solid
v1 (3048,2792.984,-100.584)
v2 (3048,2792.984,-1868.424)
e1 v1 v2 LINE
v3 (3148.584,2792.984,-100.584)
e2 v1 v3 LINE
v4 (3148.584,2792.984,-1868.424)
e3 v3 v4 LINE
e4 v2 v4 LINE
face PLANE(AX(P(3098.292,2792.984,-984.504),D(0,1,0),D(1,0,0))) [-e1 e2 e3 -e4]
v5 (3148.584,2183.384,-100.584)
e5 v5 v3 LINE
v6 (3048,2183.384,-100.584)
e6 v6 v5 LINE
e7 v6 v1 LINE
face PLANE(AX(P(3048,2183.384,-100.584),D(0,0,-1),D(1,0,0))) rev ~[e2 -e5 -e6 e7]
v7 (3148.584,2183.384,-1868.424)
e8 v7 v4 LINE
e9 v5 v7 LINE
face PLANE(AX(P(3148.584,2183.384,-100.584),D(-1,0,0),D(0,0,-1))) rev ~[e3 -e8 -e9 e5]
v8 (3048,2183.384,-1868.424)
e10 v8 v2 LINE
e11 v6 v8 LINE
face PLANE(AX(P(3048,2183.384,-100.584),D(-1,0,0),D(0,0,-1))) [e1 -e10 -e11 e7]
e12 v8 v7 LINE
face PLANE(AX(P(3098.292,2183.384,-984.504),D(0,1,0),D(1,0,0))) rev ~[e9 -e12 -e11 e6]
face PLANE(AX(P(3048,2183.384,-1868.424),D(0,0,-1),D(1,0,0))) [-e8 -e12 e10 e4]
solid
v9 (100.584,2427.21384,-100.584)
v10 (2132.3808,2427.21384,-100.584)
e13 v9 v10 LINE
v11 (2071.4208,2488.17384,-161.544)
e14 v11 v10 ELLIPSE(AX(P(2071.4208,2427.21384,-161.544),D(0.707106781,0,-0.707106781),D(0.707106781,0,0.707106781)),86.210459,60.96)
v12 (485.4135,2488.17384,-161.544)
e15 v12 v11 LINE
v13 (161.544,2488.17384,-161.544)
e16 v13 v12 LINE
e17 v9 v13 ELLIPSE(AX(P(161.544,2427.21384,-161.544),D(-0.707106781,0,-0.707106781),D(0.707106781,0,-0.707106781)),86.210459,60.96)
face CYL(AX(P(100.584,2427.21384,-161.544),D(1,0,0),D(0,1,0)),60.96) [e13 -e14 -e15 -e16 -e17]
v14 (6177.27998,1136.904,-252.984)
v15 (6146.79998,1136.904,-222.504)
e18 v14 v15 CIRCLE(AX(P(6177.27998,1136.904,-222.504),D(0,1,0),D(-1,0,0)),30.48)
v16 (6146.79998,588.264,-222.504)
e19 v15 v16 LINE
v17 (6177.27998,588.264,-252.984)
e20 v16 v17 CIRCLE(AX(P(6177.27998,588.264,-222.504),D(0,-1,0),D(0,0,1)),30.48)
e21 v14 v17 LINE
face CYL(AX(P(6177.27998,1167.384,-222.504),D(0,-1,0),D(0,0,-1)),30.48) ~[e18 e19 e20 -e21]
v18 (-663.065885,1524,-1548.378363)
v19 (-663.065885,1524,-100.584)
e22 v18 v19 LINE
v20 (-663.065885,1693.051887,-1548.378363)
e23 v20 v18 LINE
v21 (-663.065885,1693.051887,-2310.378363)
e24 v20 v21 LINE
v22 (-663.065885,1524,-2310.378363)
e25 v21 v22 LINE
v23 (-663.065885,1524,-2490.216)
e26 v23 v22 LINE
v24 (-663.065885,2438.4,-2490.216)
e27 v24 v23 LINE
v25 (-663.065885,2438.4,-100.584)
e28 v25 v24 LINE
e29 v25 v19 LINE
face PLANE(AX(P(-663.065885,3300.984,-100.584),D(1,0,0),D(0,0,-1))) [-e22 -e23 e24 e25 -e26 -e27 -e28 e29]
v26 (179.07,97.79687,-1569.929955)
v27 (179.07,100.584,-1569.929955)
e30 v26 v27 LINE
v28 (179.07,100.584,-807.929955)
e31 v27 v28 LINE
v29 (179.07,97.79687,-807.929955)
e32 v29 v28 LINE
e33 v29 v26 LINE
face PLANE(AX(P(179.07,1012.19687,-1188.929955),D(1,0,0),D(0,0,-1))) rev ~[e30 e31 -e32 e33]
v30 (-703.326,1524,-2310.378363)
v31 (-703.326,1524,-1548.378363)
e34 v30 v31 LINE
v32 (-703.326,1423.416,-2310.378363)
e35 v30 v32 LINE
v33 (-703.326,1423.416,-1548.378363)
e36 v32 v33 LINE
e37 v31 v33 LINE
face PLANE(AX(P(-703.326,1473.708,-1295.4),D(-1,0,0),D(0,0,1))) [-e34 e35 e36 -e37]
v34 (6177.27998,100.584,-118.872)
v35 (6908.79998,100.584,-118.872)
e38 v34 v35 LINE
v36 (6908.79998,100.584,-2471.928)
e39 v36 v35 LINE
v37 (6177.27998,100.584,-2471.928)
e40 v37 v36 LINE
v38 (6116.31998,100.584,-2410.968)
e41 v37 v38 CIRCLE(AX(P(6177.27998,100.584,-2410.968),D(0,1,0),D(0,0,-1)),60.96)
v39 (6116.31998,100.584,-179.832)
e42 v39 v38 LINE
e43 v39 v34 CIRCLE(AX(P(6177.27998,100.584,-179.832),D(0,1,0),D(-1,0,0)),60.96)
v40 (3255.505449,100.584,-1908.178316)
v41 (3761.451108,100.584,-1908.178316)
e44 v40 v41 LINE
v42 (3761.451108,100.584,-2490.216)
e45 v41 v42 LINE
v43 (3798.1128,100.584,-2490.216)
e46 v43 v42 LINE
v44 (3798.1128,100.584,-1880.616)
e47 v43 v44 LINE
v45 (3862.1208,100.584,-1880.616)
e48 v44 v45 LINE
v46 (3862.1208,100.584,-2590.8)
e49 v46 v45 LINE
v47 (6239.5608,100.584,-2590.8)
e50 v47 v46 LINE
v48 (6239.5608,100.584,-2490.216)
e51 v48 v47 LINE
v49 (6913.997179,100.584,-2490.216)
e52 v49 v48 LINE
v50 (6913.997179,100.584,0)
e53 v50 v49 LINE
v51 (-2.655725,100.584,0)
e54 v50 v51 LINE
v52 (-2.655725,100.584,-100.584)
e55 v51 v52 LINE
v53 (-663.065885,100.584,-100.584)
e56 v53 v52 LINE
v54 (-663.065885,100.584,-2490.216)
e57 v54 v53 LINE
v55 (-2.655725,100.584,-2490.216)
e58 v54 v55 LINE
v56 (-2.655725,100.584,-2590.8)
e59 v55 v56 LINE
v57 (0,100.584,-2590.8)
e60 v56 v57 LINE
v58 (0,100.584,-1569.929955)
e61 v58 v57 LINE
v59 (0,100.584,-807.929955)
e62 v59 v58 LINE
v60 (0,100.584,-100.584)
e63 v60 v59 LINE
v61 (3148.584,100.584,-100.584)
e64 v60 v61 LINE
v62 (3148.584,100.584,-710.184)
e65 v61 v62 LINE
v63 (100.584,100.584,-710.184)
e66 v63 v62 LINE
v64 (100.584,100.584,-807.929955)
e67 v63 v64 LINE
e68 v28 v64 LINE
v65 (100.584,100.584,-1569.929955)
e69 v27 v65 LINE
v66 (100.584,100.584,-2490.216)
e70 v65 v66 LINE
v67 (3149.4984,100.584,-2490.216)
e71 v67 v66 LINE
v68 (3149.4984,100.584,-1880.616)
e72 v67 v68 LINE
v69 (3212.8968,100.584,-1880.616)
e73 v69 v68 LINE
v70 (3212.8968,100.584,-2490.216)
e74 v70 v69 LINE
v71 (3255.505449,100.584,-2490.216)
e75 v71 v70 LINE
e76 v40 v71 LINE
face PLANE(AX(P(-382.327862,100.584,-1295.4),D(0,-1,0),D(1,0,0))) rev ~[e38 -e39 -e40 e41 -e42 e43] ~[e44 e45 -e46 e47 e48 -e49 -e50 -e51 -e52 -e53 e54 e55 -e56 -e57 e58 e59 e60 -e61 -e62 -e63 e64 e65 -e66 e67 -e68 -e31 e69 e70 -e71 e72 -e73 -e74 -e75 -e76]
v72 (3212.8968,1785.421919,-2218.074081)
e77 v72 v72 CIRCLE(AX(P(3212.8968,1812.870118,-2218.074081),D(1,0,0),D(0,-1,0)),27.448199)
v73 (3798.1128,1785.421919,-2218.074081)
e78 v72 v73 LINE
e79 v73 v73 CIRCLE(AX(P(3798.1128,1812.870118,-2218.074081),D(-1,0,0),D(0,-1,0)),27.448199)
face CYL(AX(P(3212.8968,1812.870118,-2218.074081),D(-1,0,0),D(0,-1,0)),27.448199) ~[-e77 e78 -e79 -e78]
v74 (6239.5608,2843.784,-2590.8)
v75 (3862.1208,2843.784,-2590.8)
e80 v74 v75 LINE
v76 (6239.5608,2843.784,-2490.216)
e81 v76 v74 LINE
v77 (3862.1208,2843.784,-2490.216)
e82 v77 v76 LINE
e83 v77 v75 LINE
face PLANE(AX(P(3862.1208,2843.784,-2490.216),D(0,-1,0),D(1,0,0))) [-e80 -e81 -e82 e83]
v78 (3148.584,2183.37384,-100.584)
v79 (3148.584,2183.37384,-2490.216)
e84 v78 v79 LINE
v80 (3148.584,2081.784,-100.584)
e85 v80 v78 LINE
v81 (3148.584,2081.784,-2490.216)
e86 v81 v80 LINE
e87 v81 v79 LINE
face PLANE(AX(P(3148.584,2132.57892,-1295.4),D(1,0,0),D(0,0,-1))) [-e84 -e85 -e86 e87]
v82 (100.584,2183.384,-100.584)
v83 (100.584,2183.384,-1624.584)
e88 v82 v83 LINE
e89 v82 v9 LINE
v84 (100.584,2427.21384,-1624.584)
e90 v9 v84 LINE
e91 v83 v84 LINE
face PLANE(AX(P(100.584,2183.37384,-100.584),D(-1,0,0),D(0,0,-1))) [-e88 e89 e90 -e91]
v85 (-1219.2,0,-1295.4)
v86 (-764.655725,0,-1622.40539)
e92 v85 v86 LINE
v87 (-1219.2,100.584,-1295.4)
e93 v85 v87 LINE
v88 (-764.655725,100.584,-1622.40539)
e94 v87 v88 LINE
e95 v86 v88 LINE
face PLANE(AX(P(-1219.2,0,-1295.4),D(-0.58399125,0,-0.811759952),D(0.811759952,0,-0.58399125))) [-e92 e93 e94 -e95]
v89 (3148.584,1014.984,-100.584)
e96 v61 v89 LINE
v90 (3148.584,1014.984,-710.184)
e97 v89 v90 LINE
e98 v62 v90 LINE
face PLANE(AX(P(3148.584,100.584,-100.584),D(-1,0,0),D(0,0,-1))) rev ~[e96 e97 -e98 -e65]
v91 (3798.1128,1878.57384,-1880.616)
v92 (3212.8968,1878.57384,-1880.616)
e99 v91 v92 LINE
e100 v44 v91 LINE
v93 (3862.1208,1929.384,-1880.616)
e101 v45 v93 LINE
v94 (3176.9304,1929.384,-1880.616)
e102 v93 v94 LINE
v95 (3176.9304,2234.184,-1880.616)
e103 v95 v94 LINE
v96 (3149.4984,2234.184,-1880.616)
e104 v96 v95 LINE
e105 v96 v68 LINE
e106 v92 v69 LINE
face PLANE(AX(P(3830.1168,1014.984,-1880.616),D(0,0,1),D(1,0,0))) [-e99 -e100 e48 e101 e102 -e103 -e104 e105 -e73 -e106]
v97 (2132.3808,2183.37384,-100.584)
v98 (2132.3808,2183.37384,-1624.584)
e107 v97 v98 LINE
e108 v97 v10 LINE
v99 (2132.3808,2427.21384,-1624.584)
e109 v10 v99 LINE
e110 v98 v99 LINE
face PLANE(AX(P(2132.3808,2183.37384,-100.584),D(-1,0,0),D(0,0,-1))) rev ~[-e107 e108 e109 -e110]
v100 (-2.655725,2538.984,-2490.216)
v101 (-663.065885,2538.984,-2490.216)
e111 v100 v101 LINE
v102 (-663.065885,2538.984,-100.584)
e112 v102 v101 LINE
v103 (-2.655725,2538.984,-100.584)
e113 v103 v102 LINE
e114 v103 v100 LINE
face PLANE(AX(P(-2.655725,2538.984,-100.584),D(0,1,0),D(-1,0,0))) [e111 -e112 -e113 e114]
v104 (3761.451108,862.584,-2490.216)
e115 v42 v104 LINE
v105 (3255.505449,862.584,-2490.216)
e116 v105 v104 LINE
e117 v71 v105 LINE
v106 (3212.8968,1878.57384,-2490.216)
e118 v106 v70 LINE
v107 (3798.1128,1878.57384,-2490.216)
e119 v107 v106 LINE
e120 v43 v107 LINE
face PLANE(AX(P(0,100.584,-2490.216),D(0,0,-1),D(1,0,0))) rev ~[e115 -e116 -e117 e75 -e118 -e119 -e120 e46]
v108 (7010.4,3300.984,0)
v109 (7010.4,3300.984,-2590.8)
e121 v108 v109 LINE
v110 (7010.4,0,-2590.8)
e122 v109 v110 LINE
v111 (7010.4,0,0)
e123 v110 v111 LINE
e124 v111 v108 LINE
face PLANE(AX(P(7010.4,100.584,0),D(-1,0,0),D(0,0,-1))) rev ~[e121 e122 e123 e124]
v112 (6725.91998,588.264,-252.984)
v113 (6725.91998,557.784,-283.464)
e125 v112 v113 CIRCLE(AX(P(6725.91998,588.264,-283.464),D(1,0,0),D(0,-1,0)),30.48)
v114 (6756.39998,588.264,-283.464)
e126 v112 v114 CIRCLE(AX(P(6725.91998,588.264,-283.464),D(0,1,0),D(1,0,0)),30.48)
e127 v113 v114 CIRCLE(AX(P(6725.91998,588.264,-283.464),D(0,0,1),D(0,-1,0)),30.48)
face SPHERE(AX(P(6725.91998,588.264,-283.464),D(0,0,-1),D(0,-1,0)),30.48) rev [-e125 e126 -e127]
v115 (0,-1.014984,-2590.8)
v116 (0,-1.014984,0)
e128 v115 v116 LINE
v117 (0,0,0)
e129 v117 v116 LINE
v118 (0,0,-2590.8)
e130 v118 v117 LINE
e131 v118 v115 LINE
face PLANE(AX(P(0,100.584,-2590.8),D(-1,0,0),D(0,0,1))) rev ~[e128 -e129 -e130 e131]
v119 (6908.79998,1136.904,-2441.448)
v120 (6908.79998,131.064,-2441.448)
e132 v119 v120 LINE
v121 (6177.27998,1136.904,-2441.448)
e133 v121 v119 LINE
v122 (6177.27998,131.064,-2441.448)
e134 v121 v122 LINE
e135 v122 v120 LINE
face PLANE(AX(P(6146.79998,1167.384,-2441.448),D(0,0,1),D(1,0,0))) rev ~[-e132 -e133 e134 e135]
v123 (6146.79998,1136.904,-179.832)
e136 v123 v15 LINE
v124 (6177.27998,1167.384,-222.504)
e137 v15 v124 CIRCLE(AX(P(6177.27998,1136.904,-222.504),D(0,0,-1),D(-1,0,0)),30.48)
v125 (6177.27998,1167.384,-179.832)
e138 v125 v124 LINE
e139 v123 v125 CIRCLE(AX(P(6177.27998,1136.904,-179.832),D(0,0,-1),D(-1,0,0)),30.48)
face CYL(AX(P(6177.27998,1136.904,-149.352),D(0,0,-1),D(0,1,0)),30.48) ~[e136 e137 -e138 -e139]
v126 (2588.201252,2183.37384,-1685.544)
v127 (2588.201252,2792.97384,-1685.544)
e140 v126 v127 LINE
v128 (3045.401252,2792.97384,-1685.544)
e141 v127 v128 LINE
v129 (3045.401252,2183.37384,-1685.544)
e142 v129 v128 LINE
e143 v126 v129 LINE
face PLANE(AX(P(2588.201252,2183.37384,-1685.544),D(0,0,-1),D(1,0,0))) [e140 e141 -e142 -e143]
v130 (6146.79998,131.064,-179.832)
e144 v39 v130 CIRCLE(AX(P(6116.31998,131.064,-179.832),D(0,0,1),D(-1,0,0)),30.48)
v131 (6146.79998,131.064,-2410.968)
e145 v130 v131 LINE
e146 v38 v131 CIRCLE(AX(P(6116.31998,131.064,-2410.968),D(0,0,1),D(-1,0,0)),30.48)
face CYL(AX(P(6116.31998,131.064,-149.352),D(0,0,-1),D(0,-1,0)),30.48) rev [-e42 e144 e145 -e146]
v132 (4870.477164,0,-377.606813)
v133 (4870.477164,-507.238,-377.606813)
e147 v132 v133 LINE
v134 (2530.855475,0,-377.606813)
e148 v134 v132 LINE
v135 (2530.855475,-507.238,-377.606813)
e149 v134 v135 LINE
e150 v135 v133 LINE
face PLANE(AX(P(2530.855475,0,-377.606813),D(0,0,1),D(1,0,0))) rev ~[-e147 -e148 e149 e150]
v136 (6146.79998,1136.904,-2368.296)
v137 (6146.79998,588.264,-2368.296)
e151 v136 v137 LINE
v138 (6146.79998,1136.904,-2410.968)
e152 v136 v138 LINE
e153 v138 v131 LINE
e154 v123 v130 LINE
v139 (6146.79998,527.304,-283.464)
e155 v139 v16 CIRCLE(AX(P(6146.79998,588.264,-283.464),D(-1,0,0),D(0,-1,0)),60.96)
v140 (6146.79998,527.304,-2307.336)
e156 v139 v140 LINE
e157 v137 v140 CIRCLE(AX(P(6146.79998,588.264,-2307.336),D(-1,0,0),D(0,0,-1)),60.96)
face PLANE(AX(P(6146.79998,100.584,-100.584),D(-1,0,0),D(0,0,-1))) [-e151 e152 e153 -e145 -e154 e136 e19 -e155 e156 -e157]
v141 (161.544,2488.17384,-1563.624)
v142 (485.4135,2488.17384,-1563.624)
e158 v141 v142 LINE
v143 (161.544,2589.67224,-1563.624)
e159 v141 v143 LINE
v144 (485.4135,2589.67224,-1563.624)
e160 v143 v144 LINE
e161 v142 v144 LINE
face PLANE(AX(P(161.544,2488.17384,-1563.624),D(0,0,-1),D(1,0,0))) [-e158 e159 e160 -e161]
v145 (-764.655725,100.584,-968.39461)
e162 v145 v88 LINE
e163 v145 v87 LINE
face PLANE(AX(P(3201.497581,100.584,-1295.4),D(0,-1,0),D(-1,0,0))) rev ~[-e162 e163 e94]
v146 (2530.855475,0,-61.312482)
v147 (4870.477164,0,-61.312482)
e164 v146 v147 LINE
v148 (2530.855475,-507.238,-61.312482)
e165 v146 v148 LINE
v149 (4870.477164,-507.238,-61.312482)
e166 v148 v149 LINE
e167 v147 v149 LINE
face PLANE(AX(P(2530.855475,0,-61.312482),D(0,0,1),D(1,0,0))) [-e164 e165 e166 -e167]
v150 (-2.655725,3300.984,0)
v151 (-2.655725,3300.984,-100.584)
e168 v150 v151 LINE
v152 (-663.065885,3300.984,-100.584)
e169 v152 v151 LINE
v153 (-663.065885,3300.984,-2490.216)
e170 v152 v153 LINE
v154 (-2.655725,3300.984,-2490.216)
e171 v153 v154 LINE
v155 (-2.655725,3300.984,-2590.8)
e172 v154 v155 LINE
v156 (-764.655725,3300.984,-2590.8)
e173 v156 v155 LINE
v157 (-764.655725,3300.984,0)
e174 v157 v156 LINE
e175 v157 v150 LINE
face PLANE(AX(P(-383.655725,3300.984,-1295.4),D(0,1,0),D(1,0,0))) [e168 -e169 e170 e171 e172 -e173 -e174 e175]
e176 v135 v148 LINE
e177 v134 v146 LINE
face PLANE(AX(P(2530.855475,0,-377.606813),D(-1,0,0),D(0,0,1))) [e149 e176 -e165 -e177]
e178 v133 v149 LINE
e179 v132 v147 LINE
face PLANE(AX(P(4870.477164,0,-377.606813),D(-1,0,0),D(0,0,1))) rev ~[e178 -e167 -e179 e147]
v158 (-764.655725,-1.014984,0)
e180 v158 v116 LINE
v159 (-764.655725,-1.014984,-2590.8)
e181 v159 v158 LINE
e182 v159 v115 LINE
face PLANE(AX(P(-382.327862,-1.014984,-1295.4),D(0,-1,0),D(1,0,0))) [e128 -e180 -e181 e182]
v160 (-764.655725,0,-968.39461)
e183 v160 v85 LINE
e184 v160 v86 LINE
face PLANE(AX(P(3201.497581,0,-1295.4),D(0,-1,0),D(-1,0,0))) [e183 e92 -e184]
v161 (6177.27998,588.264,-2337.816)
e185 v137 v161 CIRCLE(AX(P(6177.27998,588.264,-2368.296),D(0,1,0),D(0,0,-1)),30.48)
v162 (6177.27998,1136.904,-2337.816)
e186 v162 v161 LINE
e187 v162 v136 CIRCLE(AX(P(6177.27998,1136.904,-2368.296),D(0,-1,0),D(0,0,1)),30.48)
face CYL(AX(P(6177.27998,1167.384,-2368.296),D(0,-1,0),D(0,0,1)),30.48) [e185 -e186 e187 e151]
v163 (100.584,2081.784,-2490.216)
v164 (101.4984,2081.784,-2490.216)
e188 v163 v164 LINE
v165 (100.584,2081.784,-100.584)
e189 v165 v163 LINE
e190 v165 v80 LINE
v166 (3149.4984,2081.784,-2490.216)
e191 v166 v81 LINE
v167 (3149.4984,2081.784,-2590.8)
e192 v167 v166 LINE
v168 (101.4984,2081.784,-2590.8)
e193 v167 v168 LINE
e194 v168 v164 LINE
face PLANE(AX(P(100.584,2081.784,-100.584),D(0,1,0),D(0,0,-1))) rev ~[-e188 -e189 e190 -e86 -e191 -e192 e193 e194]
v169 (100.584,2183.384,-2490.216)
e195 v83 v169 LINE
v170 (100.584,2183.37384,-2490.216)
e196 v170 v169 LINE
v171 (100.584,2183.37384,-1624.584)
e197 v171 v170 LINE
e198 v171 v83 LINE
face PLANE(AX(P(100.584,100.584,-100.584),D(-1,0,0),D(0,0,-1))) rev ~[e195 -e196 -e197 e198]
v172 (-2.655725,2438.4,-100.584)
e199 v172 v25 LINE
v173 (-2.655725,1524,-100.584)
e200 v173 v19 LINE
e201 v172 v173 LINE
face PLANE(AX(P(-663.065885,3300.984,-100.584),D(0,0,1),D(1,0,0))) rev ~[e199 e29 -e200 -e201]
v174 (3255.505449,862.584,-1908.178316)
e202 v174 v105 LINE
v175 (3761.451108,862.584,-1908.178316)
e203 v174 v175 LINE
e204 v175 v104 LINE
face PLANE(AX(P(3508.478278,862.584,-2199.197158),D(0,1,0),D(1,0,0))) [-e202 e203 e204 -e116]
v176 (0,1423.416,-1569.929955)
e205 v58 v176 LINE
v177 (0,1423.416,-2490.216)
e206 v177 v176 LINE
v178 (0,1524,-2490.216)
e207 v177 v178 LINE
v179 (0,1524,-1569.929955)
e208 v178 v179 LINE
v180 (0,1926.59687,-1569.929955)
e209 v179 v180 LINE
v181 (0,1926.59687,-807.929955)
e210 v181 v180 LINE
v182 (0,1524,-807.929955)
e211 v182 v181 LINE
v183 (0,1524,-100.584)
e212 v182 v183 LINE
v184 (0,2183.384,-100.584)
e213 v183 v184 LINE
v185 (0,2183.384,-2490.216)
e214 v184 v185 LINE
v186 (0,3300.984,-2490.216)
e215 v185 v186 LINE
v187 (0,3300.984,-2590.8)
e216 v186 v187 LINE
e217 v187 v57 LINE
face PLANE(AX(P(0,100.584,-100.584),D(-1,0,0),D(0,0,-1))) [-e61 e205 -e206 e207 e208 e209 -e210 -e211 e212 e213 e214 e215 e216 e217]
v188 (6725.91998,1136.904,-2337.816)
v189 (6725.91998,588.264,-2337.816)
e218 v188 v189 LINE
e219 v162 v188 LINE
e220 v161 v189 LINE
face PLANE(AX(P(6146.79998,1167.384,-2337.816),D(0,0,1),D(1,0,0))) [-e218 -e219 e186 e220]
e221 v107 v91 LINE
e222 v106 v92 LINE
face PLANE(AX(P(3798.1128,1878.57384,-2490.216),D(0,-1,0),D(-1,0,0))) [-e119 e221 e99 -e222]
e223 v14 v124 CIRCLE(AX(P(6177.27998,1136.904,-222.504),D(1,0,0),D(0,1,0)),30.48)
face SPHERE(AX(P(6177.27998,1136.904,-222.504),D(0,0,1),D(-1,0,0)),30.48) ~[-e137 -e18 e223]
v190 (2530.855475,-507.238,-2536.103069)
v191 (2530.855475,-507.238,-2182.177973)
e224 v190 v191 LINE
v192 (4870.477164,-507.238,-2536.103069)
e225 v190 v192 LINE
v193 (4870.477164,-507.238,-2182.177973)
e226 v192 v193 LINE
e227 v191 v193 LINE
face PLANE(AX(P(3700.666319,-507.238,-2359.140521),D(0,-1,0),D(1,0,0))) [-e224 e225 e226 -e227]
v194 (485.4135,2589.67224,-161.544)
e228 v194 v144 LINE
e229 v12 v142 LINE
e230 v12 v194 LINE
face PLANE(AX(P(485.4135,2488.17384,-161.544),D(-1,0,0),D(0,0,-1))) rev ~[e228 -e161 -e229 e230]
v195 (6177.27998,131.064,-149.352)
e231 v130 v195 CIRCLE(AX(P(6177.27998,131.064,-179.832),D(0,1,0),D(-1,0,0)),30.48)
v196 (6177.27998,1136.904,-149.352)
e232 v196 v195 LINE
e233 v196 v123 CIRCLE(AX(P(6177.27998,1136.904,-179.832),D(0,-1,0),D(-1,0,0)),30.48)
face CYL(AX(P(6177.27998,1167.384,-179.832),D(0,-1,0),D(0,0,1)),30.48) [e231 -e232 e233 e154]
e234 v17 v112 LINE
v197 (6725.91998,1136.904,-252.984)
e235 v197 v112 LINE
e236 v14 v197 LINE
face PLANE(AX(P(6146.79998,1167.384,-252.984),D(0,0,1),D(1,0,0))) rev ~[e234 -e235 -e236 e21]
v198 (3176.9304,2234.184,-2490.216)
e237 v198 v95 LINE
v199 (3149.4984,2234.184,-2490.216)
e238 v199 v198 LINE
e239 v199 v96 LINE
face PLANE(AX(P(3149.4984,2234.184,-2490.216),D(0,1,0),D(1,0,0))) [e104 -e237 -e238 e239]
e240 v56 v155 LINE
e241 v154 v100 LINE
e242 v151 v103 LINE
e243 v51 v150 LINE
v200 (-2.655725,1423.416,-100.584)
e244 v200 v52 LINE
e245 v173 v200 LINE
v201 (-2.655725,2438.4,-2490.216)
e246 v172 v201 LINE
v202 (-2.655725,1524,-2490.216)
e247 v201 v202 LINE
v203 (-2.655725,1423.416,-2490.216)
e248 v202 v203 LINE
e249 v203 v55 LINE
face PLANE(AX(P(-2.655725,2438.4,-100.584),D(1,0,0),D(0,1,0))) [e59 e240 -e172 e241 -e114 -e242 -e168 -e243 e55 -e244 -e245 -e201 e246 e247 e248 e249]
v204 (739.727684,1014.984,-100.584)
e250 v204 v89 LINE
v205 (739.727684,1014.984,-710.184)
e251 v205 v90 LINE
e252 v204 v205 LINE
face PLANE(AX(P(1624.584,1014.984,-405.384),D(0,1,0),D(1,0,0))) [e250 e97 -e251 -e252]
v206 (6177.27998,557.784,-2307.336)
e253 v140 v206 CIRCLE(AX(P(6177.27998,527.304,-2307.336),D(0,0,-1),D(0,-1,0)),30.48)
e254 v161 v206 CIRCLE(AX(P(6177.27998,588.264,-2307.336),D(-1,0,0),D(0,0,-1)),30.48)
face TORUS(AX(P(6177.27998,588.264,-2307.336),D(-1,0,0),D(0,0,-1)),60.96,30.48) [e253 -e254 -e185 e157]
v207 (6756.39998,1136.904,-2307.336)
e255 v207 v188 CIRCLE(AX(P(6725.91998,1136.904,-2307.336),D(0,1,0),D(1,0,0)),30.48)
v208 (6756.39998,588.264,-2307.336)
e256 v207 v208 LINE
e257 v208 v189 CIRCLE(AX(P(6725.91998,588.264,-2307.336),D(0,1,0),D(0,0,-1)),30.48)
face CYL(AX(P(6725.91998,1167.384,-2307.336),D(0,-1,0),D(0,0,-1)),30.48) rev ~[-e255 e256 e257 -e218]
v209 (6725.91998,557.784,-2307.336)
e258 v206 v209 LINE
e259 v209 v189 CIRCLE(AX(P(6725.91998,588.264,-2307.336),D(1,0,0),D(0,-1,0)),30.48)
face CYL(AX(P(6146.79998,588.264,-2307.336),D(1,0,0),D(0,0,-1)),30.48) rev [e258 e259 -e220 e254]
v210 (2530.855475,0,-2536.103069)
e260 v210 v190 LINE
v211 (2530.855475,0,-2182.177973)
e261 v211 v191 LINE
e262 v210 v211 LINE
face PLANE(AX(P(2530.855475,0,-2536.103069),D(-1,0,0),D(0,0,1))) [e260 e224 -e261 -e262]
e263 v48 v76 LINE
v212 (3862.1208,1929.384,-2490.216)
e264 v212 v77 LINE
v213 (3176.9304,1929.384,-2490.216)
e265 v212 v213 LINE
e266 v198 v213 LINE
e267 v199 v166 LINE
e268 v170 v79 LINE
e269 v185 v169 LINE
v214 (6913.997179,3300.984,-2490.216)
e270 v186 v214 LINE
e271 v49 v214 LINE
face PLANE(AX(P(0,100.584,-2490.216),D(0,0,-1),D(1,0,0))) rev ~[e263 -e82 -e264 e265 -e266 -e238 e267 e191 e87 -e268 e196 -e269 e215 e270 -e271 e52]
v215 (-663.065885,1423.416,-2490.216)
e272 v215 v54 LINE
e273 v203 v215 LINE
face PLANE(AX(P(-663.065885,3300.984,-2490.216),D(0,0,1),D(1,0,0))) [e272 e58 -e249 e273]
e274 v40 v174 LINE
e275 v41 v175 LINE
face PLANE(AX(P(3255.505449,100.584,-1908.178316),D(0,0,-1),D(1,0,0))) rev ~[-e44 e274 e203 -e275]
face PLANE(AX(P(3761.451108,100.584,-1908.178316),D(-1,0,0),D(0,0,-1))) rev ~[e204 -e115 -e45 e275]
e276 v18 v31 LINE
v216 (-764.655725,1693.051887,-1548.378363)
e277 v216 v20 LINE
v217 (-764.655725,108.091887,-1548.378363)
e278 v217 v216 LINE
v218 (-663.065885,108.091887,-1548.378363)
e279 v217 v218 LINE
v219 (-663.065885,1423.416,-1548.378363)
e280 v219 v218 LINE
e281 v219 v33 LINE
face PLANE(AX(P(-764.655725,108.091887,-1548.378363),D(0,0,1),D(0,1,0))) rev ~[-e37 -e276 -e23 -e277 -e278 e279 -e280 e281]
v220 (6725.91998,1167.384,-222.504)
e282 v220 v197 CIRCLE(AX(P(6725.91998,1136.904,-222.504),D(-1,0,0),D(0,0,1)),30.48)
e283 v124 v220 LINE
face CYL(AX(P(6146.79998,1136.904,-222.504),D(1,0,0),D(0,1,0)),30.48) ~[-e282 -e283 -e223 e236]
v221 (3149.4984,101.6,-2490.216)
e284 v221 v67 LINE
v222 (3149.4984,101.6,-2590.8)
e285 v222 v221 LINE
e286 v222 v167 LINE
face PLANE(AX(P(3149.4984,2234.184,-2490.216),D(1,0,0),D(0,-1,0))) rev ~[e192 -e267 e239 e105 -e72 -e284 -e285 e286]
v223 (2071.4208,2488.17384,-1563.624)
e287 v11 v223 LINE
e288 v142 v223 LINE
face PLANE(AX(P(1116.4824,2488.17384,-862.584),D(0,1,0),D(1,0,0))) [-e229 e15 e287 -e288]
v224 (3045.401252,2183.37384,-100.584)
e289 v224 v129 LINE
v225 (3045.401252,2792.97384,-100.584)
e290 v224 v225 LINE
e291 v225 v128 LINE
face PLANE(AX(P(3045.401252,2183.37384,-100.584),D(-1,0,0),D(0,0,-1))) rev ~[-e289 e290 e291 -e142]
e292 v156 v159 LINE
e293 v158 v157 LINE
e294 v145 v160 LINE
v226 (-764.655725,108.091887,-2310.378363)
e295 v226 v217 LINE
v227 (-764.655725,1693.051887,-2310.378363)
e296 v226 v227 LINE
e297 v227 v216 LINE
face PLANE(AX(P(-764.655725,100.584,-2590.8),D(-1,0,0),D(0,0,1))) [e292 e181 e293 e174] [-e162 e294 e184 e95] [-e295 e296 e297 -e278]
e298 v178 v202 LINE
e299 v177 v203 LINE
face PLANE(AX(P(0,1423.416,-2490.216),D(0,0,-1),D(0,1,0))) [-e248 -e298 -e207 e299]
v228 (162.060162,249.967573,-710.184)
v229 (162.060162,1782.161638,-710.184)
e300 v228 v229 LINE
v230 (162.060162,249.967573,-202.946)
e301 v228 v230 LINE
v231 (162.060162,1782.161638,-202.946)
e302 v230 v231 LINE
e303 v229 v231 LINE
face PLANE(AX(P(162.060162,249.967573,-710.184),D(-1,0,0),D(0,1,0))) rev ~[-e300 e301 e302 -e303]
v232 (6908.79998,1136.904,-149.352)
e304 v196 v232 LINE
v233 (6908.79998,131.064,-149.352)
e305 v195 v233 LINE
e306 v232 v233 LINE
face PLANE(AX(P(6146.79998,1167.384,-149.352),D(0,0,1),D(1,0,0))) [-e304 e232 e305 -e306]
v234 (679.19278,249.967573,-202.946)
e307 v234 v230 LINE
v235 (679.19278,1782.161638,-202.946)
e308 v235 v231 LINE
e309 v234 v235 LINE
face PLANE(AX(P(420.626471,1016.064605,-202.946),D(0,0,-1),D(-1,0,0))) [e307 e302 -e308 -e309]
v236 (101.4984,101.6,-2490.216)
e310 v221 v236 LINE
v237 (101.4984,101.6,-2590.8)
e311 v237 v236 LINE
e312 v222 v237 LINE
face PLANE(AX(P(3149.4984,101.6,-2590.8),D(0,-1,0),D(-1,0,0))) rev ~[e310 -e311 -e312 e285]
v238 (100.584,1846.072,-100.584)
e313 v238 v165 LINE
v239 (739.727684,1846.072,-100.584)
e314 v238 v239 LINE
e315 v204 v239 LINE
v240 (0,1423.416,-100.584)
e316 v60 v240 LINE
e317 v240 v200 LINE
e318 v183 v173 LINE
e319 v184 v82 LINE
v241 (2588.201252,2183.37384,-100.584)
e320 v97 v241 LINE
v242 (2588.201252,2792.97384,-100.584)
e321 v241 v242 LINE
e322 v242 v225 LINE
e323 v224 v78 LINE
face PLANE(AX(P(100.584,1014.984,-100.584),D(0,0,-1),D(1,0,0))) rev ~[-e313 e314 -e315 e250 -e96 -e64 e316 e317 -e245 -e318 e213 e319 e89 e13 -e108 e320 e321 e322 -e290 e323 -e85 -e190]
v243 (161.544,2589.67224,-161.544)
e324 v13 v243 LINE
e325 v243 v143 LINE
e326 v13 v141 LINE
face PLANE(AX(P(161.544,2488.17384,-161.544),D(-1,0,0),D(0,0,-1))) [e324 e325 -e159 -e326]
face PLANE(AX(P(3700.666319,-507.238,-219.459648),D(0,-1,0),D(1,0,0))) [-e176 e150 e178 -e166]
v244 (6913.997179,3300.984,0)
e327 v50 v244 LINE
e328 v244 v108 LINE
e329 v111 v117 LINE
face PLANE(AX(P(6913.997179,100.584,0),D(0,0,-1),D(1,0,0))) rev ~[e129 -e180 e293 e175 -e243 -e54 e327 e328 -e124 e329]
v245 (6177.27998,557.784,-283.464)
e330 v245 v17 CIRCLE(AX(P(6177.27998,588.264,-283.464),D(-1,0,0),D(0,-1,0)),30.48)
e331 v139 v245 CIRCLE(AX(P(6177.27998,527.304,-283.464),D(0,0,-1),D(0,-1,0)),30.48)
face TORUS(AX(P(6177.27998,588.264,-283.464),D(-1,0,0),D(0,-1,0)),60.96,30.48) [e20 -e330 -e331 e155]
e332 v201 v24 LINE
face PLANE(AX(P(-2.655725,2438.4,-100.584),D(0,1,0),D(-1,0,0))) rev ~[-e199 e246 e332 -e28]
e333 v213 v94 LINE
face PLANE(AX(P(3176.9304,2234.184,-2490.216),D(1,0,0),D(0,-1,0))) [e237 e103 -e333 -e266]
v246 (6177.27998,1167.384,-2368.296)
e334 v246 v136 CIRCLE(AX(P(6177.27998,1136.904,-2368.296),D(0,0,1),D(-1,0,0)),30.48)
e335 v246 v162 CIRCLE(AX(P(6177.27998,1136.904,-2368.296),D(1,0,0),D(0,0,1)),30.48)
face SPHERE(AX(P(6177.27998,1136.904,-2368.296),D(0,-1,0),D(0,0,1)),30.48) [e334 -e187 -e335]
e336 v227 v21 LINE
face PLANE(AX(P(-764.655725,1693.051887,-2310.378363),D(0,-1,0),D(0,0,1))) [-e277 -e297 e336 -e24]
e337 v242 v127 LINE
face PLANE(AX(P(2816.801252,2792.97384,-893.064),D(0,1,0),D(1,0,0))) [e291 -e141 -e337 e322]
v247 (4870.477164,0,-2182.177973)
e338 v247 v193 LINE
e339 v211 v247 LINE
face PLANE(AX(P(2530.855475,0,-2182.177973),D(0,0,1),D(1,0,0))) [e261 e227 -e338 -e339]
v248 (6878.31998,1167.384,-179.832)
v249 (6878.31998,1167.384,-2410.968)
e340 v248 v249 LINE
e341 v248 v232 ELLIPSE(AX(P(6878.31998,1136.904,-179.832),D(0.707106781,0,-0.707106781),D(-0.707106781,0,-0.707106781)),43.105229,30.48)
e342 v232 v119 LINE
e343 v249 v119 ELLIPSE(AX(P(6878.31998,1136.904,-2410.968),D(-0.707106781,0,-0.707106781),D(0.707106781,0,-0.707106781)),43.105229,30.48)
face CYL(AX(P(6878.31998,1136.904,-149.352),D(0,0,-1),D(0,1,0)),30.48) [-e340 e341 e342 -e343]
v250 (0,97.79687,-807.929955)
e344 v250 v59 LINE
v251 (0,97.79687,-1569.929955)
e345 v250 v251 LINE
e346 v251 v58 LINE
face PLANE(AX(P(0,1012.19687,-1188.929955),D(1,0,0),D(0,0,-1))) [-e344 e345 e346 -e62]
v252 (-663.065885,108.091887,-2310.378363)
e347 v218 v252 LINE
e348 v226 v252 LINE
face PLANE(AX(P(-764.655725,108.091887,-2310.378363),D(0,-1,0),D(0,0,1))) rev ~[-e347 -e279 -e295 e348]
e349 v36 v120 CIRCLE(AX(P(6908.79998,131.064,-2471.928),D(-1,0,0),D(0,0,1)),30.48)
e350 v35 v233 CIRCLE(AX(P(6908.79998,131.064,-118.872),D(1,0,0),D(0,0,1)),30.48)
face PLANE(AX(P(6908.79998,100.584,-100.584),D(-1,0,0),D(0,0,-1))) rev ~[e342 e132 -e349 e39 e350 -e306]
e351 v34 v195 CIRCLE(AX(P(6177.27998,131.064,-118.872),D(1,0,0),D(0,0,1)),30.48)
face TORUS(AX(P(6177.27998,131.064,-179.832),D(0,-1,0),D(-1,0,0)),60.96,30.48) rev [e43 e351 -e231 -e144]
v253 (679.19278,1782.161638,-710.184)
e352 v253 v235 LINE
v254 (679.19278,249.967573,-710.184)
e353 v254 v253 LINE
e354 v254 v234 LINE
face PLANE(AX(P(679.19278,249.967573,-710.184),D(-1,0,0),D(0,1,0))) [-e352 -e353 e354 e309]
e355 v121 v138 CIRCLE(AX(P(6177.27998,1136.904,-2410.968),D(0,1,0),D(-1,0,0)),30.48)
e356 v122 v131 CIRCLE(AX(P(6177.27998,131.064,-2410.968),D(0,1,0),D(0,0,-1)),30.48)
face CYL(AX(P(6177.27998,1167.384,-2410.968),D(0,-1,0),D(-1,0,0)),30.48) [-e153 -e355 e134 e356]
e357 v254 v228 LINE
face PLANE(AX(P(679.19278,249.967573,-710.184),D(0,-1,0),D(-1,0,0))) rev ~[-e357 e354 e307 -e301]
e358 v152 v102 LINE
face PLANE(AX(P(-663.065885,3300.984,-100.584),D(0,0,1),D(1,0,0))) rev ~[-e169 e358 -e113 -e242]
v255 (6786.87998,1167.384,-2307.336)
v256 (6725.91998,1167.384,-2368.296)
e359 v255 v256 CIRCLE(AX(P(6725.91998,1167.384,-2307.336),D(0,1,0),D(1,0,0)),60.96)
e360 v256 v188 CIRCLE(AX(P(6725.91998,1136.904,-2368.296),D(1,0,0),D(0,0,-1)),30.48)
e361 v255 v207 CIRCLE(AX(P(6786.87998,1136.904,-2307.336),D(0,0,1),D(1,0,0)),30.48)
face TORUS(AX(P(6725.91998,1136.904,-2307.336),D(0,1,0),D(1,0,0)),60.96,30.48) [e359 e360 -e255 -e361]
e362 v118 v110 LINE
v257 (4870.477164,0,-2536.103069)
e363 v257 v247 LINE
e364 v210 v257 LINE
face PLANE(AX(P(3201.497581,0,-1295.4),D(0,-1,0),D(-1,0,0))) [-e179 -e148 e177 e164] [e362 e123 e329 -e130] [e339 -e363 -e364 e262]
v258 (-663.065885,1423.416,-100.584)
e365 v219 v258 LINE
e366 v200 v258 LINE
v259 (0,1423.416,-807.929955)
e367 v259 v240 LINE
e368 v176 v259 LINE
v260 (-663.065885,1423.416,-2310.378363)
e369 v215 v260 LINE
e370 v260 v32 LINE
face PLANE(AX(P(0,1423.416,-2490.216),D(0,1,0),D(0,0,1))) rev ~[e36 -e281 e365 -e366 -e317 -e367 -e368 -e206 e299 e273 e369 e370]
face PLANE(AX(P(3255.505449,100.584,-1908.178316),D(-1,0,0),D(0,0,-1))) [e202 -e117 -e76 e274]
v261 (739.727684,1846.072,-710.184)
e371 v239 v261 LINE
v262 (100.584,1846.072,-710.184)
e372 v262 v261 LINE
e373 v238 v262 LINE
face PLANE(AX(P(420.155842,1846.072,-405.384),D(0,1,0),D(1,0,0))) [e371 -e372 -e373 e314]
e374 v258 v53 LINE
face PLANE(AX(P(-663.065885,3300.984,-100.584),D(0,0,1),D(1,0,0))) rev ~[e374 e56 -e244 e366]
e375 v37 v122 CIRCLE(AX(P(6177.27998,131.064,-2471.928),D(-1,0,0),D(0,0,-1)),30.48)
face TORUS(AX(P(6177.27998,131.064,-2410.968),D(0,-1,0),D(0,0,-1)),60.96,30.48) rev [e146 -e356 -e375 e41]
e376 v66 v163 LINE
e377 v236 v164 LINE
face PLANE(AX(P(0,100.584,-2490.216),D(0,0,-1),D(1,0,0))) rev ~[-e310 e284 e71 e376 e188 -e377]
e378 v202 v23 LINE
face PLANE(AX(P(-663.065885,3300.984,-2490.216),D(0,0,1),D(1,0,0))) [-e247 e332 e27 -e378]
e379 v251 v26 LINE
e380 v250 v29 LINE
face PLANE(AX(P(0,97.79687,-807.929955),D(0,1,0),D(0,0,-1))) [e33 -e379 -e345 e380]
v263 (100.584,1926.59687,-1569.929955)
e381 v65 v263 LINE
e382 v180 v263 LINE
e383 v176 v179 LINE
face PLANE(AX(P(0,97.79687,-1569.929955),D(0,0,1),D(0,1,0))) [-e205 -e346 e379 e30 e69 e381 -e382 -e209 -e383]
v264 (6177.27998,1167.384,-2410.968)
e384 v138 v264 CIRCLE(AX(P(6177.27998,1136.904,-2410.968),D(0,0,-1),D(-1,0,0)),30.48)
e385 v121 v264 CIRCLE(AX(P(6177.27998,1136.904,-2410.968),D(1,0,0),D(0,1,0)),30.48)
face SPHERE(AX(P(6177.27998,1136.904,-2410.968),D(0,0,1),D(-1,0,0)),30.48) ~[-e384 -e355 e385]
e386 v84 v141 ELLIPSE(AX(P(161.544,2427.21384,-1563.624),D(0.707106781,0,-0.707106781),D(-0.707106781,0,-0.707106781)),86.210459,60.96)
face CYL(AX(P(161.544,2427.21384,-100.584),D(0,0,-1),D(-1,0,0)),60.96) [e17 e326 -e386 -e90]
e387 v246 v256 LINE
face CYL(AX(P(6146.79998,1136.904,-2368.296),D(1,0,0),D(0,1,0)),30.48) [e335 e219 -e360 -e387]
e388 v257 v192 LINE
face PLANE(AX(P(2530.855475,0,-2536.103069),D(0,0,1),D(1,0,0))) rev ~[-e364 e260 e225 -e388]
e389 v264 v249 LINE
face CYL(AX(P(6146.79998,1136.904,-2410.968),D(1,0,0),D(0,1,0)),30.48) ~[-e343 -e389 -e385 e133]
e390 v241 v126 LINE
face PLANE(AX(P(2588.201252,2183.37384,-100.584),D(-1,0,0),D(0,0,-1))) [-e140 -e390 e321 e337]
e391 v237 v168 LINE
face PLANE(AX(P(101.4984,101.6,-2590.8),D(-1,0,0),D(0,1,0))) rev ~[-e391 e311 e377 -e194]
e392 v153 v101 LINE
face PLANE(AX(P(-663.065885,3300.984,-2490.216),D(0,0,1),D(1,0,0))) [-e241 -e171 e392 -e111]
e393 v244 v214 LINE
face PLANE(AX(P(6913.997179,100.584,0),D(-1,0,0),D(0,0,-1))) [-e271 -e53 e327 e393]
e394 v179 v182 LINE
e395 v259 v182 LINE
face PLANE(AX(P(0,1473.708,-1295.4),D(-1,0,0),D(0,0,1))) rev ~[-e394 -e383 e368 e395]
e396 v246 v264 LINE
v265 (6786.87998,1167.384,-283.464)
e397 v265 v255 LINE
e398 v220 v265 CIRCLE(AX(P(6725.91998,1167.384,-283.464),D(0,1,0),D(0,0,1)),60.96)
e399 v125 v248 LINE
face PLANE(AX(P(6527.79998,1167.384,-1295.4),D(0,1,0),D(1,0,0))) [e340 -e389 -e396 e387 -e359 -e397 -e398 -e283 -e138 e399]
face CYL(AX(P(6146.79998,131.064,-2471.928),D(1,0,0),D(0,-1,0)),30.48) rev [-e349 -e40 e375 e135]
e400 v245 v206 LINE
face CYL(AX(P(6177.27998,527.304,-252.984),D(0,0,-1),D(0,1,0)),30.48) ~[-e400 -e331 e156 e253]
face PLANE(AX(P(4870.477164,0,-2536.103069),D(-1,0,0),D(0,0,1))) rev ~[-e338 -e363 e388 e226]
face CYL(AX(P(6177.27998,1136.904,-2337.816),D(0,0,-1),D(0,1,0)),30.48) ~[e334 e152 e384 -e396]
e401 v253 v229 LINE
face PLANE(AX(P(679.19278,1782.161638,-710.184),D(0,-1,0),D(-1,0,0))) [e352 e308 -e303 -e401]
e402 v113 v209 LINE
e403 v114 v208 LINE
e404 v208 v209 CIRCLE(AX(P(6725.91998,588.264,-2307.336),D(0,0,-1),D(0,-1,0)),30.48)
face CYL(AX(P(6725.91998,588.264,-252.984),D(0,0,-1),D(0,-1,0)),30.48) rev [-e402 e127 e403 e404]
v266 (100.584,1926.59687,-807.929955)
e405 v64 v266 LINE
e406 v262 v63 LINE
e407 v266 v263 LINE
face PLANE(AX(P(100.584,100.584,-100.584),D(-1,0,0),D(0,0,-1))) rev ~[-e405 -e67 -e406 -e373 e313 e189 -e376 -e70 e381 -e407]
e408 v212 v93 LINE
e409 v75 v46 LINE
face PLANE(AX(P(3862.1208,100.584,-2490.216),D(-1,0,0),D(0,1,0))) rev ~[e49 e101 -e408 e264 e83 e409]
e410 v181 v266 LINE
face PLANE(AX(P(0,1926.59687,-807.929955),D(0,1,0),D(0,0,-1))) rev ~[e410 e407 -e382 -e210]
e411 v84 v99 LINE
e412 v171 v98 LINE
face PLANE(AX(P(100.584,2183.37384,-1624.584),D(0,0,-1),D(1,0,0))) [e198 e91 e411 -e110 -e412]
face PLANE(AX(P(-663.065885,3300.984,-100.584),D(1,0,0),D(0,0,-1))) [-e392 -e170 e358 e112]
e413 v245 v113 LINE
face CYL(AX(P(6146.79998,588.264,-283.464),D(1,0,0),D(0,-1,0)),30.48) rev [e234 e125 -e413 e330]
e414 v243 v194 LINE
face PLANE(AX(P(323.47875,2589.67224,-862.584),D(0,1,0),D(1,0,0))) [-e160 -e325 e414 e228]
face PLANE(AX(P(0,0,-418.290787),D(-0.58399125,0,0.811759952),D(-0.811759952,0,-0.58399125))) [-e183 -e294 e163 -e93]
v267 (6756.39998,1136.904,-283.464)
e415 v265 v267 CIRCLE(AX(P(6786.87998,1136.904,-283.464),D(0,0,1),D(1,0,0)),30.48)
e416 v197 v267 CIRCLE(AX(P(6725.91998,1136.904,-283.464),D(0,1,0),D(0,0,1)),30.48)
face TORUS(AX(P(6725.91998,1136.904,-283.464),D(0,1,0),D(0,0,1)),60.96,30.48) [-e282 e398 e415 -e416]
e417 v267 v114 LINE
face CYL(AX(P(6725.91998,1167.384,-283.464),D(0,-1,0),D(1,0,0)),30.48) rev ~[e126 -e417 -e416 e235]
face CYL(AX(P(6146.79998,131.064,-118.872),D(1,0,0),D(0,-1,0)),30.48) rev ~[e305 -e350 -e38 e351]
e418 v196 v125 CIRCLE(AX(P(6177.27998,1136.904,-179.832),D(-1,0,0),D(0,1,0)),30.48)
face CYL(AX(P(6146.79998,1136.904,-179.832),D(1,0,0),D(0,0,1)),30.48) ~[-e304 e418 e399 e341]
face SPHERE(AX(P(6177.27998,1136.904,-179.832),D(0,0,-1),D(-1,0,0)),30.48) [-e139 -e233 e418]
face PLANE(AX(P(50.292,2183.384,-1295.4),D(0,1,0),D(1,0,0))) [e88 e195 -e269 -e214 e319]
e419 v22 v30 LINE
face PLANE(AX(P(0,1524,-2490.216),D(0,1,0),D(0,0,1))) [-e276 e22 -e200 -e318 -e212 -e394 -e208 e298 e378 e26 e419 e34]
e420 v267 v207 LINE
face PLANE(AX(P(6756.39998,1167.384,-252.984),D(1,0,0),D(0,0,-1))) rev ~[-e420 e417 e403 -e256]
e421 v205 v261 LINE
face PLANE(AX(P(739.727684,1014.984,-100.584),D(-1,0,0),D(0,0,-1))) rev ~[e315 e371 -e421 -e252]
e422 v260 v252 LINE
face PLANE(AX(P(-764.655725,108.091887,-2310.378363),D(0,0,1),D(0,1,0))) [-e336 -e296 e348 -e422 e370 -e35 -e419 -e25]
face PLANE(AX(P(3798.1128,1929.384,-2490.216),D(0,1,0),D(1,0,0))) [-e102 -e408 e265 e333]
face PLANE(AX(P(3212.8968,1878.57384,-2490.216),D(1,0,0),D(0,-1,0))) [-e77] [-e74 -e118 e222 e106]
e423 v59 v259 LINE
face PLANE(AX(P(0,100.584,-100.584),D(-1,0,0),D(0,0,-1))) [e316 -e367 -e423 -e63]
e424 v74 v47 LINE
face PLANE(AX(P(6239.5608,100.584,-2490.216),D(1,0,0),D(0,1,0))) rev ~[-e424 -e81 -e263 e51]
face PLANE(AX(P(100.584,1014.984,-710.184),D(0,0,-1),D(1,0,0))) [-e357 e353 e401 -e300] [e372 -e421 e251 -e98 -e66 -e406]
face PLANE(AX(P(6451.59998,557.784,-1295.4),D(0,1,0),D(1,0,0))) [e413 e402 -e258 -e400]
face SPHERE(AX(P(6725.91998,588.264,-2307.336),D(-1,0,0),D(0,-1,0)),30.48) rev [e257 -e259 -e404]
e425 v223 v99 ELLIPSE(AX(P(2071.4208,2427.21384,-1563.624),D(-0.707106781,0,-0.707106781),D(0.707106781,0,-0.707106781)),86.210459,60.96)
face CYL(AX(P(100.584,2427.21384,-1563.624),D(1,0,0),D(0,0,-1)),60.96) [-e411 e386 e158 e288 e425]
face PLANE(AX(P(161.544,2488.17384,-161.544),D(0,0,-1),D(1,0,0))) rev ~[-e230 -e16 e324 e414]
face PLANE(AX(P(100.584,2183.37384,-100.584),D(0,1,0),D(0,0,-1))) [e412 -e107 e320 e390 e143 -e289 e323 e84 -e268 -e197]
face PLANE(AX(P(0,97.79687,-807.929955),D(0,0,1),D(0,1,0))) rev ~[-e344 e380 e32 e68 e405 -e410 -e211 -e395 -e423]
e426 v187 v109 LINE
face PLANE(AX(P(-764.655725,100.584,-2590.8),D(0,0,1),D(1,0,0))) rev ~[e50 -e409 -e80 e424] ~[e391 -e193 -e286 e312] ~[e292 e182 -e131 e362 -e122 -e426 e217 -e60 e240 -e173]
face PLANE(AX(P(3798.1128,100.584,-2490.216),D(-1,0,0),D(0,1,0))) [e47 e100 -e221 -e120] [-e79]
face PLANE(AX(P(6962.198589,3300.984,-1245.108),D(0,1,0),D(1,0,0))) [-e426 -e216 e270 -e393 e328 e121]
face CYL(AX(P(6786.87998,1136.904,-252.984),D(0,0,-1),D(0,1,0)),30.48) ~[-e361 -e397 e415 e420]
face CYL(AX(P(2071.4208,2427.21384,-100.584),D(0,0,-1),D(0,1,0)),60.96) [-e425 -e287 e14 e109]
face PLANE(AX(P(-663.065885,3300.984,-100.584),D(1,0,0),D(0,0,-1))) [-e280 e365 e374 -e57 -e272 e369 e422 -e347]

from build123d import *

# Parameters (mm, degrees)
BOSS_EXTRUDE1_DEPTH  = 100.584
SKETCH3_W            = 7010.4
SKETCH3_H            = 100.584
BOSS_EXTRUDE2_DEPTH  = 3200.4
SKETCH4_W            = 100.584
SKETCH4_H            = 2389.632
BOSS_EXTRUDE3_DEPTH  = 2082.799999898
SKETCH5_W            = 3048
SKETCH5_H            = 609.6
BOSS_EXTRUDE4_DEPTH  = 914.4
SKETCH6_W            = 762
SKETCH6_H            = 1828.8
CUT_EXTRUDE1_DEPTH   = 179.07
SKETCH7_W            = 762
SKETCH7_H            = 2389.632
BOSS_EXTRUDE5_DEPTH  = 1066.8
SKETCH8_W            = 609.6
SKETCH8_H            = 2084.832
CUT_EXTRUDE2_DEPTH   = 609.6
SKETCH9_W            = 762
SKETCH9_H            = 48.768
CUT_EXTRUDE3_DEPTH   = 1066.8
FILLET1_R            = 30.48
SKETCH11_W           = 2389.632
SKETCH11_H           = 101.58984
BOSS_EXTRUDE6_DEPTH  = 3048
SKETCH12_W           = 100.584
SKETCH12_H           = 1767.84
BOSS_EXTRUDE7_DEPTH  = 609.6
SKETCH14_W           = 3048
SKETCH14_H           = 1980.184000102
CUT_EXTRUDE4_DEPTH   = 121.92
BOSS_EXTRUDE8_DEPTH  = 609.6
SKETCH16_W           = 64.008
SKETCH16_H           = 1828.8
BOSS_EXTRUDE9_DEPTH  = 609.6
SKETCH17_W           = 2377.44
SKETCH17_H           = 2743.2
CUT_EXTRUDE5_DEPTH   = 609.6
SKETCH20_W           = 762
SKETCH20_H           = 2590.8
BOSS_EXTRUDE10_DEPTH = 3200.4
SKETCH23_W           = 660.41016
SKETCH23_H           = 2389.632
CUT_EXTRUDE6_DEPTH   = 3200.4
SKETCH24_W           = 764.655724872
SKETCH24_H           = 2590.8
BOSS_EXTRUDE11_DEPTH = 101.598984
SKETCH25_W           = 762
SKETCH25_H           = 1584.96
CUT_EXTRUDE7_DEPTH   = 101.598984
SKETCH26_W           = 660.41016
SKETCH26_H           = 100.584
BOSS_EXTRUDE12_DEPTH = 2427.984984
SKETCH27_W           = 2389.632
SKETCH27_H           = 100.584
BOSS_EXTRUDE13_DEPTH = 703.326
SKETCH28_W           = 2031.7968
SKETCH28_H           = 1524
BOSS_EXTRUDE14_DEPTH = 304.8
FILLET2_R            = 60.96
SKETCH29_W           = 323.869500016
SKETCH29_H           = 1402.08
BOSS_EXTRUDE15_DEPTH = 101.4984
SKETCH30_W           = 457.2
SKETCH30_H           = 1584.96
BOSS_EXTRUDE16_DEPTH = 609.6
SKETCH32_W           = 505.94565908
SKETCH32_H           = 582.037684295
BOSS_EXTRUDE25_DEPTH = 762
SKETCH33_W           = 96.402821382
SKETCH33_H           = 2490.216
BOSS_EXTRUDE26_DEPTH = 3200.4
SKETCH34_R           = 27.448199129
BOSS_EXTRUDE27_DEPTH = 631.444
SKETCH35_W           = 639.143683672
SKETCH35_H           = 609.6
BOSS_EXTRUDE28_DEPTH = 831.088
SKETCH36_W           = 517.132618211
SKETCH36_H           = 1532.194064783
CUT_EXTRUDE9_DEPTH   = 507.238
SKETCH37_W           = 2339.621689526
SKETCH37_H           = 316.294331202
SKETCH37_H_2         = 353.925095988
BOSS_EXTRUDE29_DEPTH = 507.238


with BuildPart() as part:
    # Sketch1 → Boss-Extrude1 (new body)
    with BuildSketch(Plane(origin=(0, 0, 0), x_dir=(1, 0, 0), z_dir=(0, 1, 0))):
        Polygon((0, 0), (0, 418.290787275), (-1219.2, 1295.4), (0, 2172.509212725), (0, 2590.8), (7010.4, 2590.8), (7010.4, 0), align=None)
    extrude(amount=BOSS_EXTRUDE1_DEPTH)

    # Sketch3 → Boss-Extrude2 (add)
    with BuildSketch(Plane(origin=(0, 100.584, 0), x_dir=(1, 0, 0), z_dir=(0, 1, 0))):
        with Locations((3505.2, 2540.508)):
            Rectangle(SKETCH3_W, SKETCH3_H)
    extrude(amount=BOSS_EXTRUDE2_DEPTH)

    # Sketch4 → Boss-Extrude3 (add)
    with BuildSketch(Plane(origin=(0, 100.584, 0), x_dir=(1, 0, 0), z_dir=(0, 1, 0))):
        with Locations((50.292, 1295.4)):
            Rectangle(SKETCH4_W, SKETCH4_H)
    extrude(amount=BOSS_EXTRUDE3_DEPTH)

    # Sketch5 → Boss-Extrude4 (add)
    with BuildSketch(Plane(origin=(0, 100.584, 0), x_dir=(1, 0, 0), z_dir=(0, 1, 0))):
        with Locations((1624.584, 405.384)):
            Rectangle(SKETCH5_W, SKETCH5_H)
    extrude(amount=BOSS_EXTRUDE4_DEPTH)

    # Sketch6 → Cut-Extrude1 (cut)
    with BuildSketch(Plane(origin=(0, 0, 0), x_dir=(0, 0, -1), z_dir=(1, 0, 0))):
        with Locations((1188.929954617, 1012.196870273)):
            Rectangle(SKETCH6_W, SKETCH6_H)
    extrude(amount=CUT_EXTRUDE1_DEPTH, mode=Mode.SUBTRACT)

    # Sketch7 → Boss-Extrude5 (add)
    with BuildSketch(Plane(origin=(0, 100.584, 0), x_dir=(1, 0, 0), z_dir=(0, 1, 0))):
        with Locations((6527.79997968, 1295.4)):
            Rectangle(SKETCH7_W, SKETCH7_H)
    extrude(amount=BOSS_EXTRUDE5_DEPTH)

    # Sketch8 → Cut-Extrude2 (cut)
    with BuildSketch(Plane(origin=(0, 1167.384, 0), x_dir=(1, 0, 0), z_dir=(0, 1, 0))):
        with Locations((6451.59997968, 1295.4)):
            Rectangle(SKETCH8_W, SKETCH8_H)
    extrude(amount=-CUT_EXTRUDE2_DEPTH, mode=Mode.SUBTRACT)

    # Sketch9 → Cut-Extrude3 (cut)
    with BuildSketch(Plane(origin=(0, 1167.384, 0), x_dir=(1, 0, 0), z_dir=(0, 1, 0))):
        with Locations((6527.79997968, 2465.832)):
            Rectangle(SKETCH9_W, SKETCH9_H)
        with Locations((6527.79997968, 124.968)):
            Rectangle(SKETCH9_W, SKETCH9_H)
    extrude(amount=-CUT_EXTRUDE3_DEPTH, mode=Mode.SUBTRACT)

    # Fillet1
    fillet1_edges = [part.edges().sort_by_distance(p)[0] for p in [
        (6146.79997968, 1167.384, -201.168),
        (6146.79997968, 557.784, -1295.4),
        (6146.79997968, 862.584, -252.984),
        (6451.59997968, 557.784, -2337.816),
        (6146.79997968, 862.584, -2337.816),
        (6756.39997968, 557.784, -1295.4),
        (6756.39997968, 862.584, -2337.816),
        (6451.59997968, 557.784, -252.984),
        (6756.39997968, 862.584, -252.984),
        (6451.59997968, 1167.384, -252.984),
        (6756.39997968, 1167.384, -1295.4),
        (6451.59997968, 1167.384, -2337.816),
        (6146.79997968, 1167.384, -2389.632),
        (6146.79997968, 100.584, -1295.4),
        (6146.79997968, 633.984, -2441.448),
        (6527.79997968, 100.584, -2441.448),
        (6527.79997968, 1167.384, -2441.448),
        (6908.79997968, 1167.384, -1295.4),
        (6527.79997968, 100.584, -149.352),
        (6146.79997968, 633.984, -149.352),
        (6527.79997968, 1167.384, -149.352),
    ]]
    fillet(fillet1_edges, radius=FILLET1_R)

    # Sketch11 → Boss-Extrude6 (add)
    with BuildSketch(Plane(origin=(100.584, 0, 0), x_dir=(0, 0, -1), z_dir=(1, 0, 0))):
        with Locations((1295.4, 2132.57892)):
            Rectangle(SKETCH11_W, SKETCH11_H)
    extrude(amount=BOSS_EXTRUDE6_DEPTH)

    # Sketch14 → Cut-Extrude4 (cut)
    with BuildSketch(Plane(origin=(0, 0, -2590.8), x_dir=(-1, 0, 0), z_dir=(0, 0, -1))):
        with Locations((-1625.4984, 1091.691999949)):
            Rectangle(SKETCH14_W, SKETCH14_H)
    extrude(amount=-CUT_EXTRUDE4_DEPTH, mode=Mode.SUBTRACT)

    # Sketch15 → Boss-Extrude8 (add)
    with BuildSketch(Plane.XY.offset(-2490.216)):
        Polygon((3176.9304, 1929.384), (3798.1128, 1929.384), (3798.1128, 1878.57384), (3212.8968, 1878.57384), (3212.8968, 100.584), (3149.4984, 100.584), (3149.4984, 1878.57384), (3149.4984, 1929.384), (3149.4984, 2234.184), (3176.9304, 2234.184), align=None)
    extrude(amount=BOSS_EXTRUDE8_DEPTH)

    # Sketch16 → Boss-Extrude9 (add)
    with BuildSketch(Plane.XY.offset(-2490.216)):
        with Locations((3830.1168, 1014.984)):
            Rectangle(SKETCH16_W, SKETCH16_H)
    extrude(amount=BOSS_EXTRUDE9_DEPTH)

    # Sketch17 → Cut-Extrude5 (cut)
    with BuildSketch(Plane.XY.offset(-2490.216)):
        with Locations((5050.8408, 1472.184)):
            Rectangle(SKETCH17_W, SKETCH17_H)
    extrude(amount=-CUT_EXTRUDE5_DEPTH, mode=Mode.SUBTRACT)

    # Sketch20 → Boss-Extrude10 (add)
    with BuildSketch(Plane(origin=(0, 100.584, 0), x_dir=(1, 0, 0), z_dir=(0, 1, 0))):
        with Locations((-383.655724872, 1295.4)):
            Rectangle(SKETCH20_W, SKETCH20_H)
    extrude(amount=BOSS_EXTRUDE10_DEPTH)

    # Sketch23 → Cut-Extrude6 (cut)
    with BuildSketch(Plane(origin=(0, 3300.984, 0), x_dir=(1, 0, 0), z_dir=(0, 1, 0))):
        with Locations((-332.860804872, 1295.4)):
            Rectangle(SKETCH23_W, SKETCH23_H)
    extrude(amount=-CUT_EXTRUDE6_DEPTH, mode=Mode.SUBTRACT)

    # Sketch24 → Boss-Extrude11 (add)
    with BuildSketch(Plane.XZ.offset(-100.584)):
        with Locations((-382.327862436, -1295.4)):
            Rectangle(SKETCH24_W, SKETCH24_H)
    extrude(amount=BOSS_EXTRUDE11_DEPTH)

    # Sketch25 → Cut-Extrude7 (cut)
    with BuildSketch(Plane.ZY.offset(764.655724872)):
        with Locations((-1929.378363182, 900.571886789)):
            Rectangle(SKETCH25_W, SKETCH25_H)
    extrude(amount=-CUT_EXTRUDE7_DEPTH, mode=Mode.SUBTRACT)

    # Sketch26 → Boss-Extrude12 (add)
    with BuildSketch(Plane(origin=(0, 0, -100.584), x_dir=(-1, 0, 0), z_dir=(0, 0, -1))):
        with Locations((332.860804872, 2488.692)):
            Rectangle(SKETCH26_W, SKETCH26_H)
    extrude(amount=BOSS_EXTRUDE12_DEPTH)

    # Sketch27 → Boss-Extrude13 (add)
    with BuildSketch(Plane.ZY):
        with Locations((-1295.4, 1473.708)):
            Rectangle(SKETCH27_W, SKETCH27_H)
    extrude(amount=BOSS_EXTRUDE13_DEPTH)

    # Sketch28 → Boss-Extrude14 (add)
    with BuildSketch(Plane(origin=(0, 2183.37384, 0), x_dir=(1, 0, 0), z_dir=(0, 1, 0))):
        with Locations((1116.4824, 862.584)):
            Rectangle(SKETCH28_W, SKETCH28_H)
    extrude(amount=BOSS_EXTRUDE14_DEPTH)

    # Fillet2
    fillet2_edges = [part.edges().sort_by_distance(p)[0] for p in [
        (100.584, 2488.17384, -862.584),
        (1116.4824, 2488.17384, -100.584),
        (2132.3808, 2488.17384, -862.584),
        (1116.4824, 2488.17384, -1624.584),
    ]]
    fillet(fillet2_edges, radius=FILLET2_R)

    # Sketch29 → Boss-Extrude15 (add)
    with BuildSketch(Plane(origin=(0, 2488.17384, 0), x_dir=(1, 0, 0), z_dir=(0, 1, 0))):
        with Locations((323.478750008, 862.584)):
            Rectangle(SKETCH29_W, SKETCH29_H)
    extrude(amount=BOSS_EXTRUDE15_DEPTH)

    # Sketch30 → Boss-Extrude16 (add)
    with BuildSketch(Plane(origin=(0, 2183.37384, 0), x_dir=(1, 0, 0), z_dir=(0, 1, 0))):
        with Locations((2816.80125235, 893.064)):
            Rectangle(SKETCH30_W, SKETCH30_H)
    extrude(amount=BOSS_EXTRUDE16_DEPTH)

    # Sketch32 → Boss-Extrude25 (add)
    with BuildSketch(Plane(origin=(0, 100.584, 0), x_dir=(1, 0, 0), z_dir=(0, 1, 0))):
        with Locations((3508.478278258, 2199.197157853)):
            Rectangle(SKETCH32_W, SKETCH32_H)
    extrude(amount=BOSS_EXTRUDE25_DEPTH)

    # Sketch33 → Boss-Extrude26 (add)
    with BuildSketch(Plane(origin=(0, 100.584, 0), x_dir=(1, 0, 0), z_dir=(0, 1, 0))):
        with Locations((6962.198589309, 1245.108)):
            Rectangle(SKETCH33_W, SKETCH33_H)
    extrude(amount=BOSS_EXTRUDE26_DEPTH)

    # Sketch34 → Boss-Extrude27 (add)
    with BuildSketch(Plane(origin=(3212.8968, 0, 0), x_dir=(0, 0, -1), z_dir=(1, 0, 0))):
        with Locations(Location((2218.07408082, 1812.870118347, 0), (0, 0, 270))):  # turned: the seam where the file's is
            Circle(SKETCH34_R)
    extrude(amount=BOSS_EXTRUDE27_DEPTH)

    # Sketch35 → Boss-Extrude28 (add)
    with BuildSketch(Plane(origin=(0, 1014.984, 0), x_dir=(1, 0, 0), z_dir=(0, 1, 0))):
        with Locations((420.155841836, 405.384)):
            Rectangle(SKETCH35_W, SKETCH35_H)
    extrude(amount=BOSS_EXTRUDE28_DEPTH)

    # Sketch36 → Cut-Extrude9 (cut)
    with BuildSketch(Plane(origin=(0, 0, -710.184), x_dir=(-1, 0, 0), z_dir=(0, 0, -1))):
        with Locations((-420.62647127, 1016.064605357)):
            Rectangle(SKETCH36_W, SKETCH36_H)
    extrude(amount=-CUT_EXTRUDE9_DEPTH, mode=Mode.SUBTRACT)

    # Sketch37 → Boss-Extrude29 (add)
    with BuildSketch(Plane.XZ):
        with Locations((3700.666319437, -219.459647699)):
            Rectangle(SKETCH37_W, SKETCH37_H)
        with Locations((3700.666319437, -2359.140520545)):
            Rectangle(SKETCH37_W, SKETCH37_H_2)
    extrude(amount=BOSS_EXTRUDE29_DEPTH)


with BuildPart() as body_2:
    # Sketch12 → Boss-Extrude7 (new body)
    with BuildSketch(Plane(origin=(0, 2183.383999898, 0), x_dir=(1, 0, 0), z_dir=(0, 1, 0))):
        with Locations((3098.292, 984.504)):
            Rectangle(SKETCH12_W, SKETCH12_H)
    extrude(amount=BOSS_EXTRUDE7_DEPTH)


solid = Compound([part.part, body_2.part])
